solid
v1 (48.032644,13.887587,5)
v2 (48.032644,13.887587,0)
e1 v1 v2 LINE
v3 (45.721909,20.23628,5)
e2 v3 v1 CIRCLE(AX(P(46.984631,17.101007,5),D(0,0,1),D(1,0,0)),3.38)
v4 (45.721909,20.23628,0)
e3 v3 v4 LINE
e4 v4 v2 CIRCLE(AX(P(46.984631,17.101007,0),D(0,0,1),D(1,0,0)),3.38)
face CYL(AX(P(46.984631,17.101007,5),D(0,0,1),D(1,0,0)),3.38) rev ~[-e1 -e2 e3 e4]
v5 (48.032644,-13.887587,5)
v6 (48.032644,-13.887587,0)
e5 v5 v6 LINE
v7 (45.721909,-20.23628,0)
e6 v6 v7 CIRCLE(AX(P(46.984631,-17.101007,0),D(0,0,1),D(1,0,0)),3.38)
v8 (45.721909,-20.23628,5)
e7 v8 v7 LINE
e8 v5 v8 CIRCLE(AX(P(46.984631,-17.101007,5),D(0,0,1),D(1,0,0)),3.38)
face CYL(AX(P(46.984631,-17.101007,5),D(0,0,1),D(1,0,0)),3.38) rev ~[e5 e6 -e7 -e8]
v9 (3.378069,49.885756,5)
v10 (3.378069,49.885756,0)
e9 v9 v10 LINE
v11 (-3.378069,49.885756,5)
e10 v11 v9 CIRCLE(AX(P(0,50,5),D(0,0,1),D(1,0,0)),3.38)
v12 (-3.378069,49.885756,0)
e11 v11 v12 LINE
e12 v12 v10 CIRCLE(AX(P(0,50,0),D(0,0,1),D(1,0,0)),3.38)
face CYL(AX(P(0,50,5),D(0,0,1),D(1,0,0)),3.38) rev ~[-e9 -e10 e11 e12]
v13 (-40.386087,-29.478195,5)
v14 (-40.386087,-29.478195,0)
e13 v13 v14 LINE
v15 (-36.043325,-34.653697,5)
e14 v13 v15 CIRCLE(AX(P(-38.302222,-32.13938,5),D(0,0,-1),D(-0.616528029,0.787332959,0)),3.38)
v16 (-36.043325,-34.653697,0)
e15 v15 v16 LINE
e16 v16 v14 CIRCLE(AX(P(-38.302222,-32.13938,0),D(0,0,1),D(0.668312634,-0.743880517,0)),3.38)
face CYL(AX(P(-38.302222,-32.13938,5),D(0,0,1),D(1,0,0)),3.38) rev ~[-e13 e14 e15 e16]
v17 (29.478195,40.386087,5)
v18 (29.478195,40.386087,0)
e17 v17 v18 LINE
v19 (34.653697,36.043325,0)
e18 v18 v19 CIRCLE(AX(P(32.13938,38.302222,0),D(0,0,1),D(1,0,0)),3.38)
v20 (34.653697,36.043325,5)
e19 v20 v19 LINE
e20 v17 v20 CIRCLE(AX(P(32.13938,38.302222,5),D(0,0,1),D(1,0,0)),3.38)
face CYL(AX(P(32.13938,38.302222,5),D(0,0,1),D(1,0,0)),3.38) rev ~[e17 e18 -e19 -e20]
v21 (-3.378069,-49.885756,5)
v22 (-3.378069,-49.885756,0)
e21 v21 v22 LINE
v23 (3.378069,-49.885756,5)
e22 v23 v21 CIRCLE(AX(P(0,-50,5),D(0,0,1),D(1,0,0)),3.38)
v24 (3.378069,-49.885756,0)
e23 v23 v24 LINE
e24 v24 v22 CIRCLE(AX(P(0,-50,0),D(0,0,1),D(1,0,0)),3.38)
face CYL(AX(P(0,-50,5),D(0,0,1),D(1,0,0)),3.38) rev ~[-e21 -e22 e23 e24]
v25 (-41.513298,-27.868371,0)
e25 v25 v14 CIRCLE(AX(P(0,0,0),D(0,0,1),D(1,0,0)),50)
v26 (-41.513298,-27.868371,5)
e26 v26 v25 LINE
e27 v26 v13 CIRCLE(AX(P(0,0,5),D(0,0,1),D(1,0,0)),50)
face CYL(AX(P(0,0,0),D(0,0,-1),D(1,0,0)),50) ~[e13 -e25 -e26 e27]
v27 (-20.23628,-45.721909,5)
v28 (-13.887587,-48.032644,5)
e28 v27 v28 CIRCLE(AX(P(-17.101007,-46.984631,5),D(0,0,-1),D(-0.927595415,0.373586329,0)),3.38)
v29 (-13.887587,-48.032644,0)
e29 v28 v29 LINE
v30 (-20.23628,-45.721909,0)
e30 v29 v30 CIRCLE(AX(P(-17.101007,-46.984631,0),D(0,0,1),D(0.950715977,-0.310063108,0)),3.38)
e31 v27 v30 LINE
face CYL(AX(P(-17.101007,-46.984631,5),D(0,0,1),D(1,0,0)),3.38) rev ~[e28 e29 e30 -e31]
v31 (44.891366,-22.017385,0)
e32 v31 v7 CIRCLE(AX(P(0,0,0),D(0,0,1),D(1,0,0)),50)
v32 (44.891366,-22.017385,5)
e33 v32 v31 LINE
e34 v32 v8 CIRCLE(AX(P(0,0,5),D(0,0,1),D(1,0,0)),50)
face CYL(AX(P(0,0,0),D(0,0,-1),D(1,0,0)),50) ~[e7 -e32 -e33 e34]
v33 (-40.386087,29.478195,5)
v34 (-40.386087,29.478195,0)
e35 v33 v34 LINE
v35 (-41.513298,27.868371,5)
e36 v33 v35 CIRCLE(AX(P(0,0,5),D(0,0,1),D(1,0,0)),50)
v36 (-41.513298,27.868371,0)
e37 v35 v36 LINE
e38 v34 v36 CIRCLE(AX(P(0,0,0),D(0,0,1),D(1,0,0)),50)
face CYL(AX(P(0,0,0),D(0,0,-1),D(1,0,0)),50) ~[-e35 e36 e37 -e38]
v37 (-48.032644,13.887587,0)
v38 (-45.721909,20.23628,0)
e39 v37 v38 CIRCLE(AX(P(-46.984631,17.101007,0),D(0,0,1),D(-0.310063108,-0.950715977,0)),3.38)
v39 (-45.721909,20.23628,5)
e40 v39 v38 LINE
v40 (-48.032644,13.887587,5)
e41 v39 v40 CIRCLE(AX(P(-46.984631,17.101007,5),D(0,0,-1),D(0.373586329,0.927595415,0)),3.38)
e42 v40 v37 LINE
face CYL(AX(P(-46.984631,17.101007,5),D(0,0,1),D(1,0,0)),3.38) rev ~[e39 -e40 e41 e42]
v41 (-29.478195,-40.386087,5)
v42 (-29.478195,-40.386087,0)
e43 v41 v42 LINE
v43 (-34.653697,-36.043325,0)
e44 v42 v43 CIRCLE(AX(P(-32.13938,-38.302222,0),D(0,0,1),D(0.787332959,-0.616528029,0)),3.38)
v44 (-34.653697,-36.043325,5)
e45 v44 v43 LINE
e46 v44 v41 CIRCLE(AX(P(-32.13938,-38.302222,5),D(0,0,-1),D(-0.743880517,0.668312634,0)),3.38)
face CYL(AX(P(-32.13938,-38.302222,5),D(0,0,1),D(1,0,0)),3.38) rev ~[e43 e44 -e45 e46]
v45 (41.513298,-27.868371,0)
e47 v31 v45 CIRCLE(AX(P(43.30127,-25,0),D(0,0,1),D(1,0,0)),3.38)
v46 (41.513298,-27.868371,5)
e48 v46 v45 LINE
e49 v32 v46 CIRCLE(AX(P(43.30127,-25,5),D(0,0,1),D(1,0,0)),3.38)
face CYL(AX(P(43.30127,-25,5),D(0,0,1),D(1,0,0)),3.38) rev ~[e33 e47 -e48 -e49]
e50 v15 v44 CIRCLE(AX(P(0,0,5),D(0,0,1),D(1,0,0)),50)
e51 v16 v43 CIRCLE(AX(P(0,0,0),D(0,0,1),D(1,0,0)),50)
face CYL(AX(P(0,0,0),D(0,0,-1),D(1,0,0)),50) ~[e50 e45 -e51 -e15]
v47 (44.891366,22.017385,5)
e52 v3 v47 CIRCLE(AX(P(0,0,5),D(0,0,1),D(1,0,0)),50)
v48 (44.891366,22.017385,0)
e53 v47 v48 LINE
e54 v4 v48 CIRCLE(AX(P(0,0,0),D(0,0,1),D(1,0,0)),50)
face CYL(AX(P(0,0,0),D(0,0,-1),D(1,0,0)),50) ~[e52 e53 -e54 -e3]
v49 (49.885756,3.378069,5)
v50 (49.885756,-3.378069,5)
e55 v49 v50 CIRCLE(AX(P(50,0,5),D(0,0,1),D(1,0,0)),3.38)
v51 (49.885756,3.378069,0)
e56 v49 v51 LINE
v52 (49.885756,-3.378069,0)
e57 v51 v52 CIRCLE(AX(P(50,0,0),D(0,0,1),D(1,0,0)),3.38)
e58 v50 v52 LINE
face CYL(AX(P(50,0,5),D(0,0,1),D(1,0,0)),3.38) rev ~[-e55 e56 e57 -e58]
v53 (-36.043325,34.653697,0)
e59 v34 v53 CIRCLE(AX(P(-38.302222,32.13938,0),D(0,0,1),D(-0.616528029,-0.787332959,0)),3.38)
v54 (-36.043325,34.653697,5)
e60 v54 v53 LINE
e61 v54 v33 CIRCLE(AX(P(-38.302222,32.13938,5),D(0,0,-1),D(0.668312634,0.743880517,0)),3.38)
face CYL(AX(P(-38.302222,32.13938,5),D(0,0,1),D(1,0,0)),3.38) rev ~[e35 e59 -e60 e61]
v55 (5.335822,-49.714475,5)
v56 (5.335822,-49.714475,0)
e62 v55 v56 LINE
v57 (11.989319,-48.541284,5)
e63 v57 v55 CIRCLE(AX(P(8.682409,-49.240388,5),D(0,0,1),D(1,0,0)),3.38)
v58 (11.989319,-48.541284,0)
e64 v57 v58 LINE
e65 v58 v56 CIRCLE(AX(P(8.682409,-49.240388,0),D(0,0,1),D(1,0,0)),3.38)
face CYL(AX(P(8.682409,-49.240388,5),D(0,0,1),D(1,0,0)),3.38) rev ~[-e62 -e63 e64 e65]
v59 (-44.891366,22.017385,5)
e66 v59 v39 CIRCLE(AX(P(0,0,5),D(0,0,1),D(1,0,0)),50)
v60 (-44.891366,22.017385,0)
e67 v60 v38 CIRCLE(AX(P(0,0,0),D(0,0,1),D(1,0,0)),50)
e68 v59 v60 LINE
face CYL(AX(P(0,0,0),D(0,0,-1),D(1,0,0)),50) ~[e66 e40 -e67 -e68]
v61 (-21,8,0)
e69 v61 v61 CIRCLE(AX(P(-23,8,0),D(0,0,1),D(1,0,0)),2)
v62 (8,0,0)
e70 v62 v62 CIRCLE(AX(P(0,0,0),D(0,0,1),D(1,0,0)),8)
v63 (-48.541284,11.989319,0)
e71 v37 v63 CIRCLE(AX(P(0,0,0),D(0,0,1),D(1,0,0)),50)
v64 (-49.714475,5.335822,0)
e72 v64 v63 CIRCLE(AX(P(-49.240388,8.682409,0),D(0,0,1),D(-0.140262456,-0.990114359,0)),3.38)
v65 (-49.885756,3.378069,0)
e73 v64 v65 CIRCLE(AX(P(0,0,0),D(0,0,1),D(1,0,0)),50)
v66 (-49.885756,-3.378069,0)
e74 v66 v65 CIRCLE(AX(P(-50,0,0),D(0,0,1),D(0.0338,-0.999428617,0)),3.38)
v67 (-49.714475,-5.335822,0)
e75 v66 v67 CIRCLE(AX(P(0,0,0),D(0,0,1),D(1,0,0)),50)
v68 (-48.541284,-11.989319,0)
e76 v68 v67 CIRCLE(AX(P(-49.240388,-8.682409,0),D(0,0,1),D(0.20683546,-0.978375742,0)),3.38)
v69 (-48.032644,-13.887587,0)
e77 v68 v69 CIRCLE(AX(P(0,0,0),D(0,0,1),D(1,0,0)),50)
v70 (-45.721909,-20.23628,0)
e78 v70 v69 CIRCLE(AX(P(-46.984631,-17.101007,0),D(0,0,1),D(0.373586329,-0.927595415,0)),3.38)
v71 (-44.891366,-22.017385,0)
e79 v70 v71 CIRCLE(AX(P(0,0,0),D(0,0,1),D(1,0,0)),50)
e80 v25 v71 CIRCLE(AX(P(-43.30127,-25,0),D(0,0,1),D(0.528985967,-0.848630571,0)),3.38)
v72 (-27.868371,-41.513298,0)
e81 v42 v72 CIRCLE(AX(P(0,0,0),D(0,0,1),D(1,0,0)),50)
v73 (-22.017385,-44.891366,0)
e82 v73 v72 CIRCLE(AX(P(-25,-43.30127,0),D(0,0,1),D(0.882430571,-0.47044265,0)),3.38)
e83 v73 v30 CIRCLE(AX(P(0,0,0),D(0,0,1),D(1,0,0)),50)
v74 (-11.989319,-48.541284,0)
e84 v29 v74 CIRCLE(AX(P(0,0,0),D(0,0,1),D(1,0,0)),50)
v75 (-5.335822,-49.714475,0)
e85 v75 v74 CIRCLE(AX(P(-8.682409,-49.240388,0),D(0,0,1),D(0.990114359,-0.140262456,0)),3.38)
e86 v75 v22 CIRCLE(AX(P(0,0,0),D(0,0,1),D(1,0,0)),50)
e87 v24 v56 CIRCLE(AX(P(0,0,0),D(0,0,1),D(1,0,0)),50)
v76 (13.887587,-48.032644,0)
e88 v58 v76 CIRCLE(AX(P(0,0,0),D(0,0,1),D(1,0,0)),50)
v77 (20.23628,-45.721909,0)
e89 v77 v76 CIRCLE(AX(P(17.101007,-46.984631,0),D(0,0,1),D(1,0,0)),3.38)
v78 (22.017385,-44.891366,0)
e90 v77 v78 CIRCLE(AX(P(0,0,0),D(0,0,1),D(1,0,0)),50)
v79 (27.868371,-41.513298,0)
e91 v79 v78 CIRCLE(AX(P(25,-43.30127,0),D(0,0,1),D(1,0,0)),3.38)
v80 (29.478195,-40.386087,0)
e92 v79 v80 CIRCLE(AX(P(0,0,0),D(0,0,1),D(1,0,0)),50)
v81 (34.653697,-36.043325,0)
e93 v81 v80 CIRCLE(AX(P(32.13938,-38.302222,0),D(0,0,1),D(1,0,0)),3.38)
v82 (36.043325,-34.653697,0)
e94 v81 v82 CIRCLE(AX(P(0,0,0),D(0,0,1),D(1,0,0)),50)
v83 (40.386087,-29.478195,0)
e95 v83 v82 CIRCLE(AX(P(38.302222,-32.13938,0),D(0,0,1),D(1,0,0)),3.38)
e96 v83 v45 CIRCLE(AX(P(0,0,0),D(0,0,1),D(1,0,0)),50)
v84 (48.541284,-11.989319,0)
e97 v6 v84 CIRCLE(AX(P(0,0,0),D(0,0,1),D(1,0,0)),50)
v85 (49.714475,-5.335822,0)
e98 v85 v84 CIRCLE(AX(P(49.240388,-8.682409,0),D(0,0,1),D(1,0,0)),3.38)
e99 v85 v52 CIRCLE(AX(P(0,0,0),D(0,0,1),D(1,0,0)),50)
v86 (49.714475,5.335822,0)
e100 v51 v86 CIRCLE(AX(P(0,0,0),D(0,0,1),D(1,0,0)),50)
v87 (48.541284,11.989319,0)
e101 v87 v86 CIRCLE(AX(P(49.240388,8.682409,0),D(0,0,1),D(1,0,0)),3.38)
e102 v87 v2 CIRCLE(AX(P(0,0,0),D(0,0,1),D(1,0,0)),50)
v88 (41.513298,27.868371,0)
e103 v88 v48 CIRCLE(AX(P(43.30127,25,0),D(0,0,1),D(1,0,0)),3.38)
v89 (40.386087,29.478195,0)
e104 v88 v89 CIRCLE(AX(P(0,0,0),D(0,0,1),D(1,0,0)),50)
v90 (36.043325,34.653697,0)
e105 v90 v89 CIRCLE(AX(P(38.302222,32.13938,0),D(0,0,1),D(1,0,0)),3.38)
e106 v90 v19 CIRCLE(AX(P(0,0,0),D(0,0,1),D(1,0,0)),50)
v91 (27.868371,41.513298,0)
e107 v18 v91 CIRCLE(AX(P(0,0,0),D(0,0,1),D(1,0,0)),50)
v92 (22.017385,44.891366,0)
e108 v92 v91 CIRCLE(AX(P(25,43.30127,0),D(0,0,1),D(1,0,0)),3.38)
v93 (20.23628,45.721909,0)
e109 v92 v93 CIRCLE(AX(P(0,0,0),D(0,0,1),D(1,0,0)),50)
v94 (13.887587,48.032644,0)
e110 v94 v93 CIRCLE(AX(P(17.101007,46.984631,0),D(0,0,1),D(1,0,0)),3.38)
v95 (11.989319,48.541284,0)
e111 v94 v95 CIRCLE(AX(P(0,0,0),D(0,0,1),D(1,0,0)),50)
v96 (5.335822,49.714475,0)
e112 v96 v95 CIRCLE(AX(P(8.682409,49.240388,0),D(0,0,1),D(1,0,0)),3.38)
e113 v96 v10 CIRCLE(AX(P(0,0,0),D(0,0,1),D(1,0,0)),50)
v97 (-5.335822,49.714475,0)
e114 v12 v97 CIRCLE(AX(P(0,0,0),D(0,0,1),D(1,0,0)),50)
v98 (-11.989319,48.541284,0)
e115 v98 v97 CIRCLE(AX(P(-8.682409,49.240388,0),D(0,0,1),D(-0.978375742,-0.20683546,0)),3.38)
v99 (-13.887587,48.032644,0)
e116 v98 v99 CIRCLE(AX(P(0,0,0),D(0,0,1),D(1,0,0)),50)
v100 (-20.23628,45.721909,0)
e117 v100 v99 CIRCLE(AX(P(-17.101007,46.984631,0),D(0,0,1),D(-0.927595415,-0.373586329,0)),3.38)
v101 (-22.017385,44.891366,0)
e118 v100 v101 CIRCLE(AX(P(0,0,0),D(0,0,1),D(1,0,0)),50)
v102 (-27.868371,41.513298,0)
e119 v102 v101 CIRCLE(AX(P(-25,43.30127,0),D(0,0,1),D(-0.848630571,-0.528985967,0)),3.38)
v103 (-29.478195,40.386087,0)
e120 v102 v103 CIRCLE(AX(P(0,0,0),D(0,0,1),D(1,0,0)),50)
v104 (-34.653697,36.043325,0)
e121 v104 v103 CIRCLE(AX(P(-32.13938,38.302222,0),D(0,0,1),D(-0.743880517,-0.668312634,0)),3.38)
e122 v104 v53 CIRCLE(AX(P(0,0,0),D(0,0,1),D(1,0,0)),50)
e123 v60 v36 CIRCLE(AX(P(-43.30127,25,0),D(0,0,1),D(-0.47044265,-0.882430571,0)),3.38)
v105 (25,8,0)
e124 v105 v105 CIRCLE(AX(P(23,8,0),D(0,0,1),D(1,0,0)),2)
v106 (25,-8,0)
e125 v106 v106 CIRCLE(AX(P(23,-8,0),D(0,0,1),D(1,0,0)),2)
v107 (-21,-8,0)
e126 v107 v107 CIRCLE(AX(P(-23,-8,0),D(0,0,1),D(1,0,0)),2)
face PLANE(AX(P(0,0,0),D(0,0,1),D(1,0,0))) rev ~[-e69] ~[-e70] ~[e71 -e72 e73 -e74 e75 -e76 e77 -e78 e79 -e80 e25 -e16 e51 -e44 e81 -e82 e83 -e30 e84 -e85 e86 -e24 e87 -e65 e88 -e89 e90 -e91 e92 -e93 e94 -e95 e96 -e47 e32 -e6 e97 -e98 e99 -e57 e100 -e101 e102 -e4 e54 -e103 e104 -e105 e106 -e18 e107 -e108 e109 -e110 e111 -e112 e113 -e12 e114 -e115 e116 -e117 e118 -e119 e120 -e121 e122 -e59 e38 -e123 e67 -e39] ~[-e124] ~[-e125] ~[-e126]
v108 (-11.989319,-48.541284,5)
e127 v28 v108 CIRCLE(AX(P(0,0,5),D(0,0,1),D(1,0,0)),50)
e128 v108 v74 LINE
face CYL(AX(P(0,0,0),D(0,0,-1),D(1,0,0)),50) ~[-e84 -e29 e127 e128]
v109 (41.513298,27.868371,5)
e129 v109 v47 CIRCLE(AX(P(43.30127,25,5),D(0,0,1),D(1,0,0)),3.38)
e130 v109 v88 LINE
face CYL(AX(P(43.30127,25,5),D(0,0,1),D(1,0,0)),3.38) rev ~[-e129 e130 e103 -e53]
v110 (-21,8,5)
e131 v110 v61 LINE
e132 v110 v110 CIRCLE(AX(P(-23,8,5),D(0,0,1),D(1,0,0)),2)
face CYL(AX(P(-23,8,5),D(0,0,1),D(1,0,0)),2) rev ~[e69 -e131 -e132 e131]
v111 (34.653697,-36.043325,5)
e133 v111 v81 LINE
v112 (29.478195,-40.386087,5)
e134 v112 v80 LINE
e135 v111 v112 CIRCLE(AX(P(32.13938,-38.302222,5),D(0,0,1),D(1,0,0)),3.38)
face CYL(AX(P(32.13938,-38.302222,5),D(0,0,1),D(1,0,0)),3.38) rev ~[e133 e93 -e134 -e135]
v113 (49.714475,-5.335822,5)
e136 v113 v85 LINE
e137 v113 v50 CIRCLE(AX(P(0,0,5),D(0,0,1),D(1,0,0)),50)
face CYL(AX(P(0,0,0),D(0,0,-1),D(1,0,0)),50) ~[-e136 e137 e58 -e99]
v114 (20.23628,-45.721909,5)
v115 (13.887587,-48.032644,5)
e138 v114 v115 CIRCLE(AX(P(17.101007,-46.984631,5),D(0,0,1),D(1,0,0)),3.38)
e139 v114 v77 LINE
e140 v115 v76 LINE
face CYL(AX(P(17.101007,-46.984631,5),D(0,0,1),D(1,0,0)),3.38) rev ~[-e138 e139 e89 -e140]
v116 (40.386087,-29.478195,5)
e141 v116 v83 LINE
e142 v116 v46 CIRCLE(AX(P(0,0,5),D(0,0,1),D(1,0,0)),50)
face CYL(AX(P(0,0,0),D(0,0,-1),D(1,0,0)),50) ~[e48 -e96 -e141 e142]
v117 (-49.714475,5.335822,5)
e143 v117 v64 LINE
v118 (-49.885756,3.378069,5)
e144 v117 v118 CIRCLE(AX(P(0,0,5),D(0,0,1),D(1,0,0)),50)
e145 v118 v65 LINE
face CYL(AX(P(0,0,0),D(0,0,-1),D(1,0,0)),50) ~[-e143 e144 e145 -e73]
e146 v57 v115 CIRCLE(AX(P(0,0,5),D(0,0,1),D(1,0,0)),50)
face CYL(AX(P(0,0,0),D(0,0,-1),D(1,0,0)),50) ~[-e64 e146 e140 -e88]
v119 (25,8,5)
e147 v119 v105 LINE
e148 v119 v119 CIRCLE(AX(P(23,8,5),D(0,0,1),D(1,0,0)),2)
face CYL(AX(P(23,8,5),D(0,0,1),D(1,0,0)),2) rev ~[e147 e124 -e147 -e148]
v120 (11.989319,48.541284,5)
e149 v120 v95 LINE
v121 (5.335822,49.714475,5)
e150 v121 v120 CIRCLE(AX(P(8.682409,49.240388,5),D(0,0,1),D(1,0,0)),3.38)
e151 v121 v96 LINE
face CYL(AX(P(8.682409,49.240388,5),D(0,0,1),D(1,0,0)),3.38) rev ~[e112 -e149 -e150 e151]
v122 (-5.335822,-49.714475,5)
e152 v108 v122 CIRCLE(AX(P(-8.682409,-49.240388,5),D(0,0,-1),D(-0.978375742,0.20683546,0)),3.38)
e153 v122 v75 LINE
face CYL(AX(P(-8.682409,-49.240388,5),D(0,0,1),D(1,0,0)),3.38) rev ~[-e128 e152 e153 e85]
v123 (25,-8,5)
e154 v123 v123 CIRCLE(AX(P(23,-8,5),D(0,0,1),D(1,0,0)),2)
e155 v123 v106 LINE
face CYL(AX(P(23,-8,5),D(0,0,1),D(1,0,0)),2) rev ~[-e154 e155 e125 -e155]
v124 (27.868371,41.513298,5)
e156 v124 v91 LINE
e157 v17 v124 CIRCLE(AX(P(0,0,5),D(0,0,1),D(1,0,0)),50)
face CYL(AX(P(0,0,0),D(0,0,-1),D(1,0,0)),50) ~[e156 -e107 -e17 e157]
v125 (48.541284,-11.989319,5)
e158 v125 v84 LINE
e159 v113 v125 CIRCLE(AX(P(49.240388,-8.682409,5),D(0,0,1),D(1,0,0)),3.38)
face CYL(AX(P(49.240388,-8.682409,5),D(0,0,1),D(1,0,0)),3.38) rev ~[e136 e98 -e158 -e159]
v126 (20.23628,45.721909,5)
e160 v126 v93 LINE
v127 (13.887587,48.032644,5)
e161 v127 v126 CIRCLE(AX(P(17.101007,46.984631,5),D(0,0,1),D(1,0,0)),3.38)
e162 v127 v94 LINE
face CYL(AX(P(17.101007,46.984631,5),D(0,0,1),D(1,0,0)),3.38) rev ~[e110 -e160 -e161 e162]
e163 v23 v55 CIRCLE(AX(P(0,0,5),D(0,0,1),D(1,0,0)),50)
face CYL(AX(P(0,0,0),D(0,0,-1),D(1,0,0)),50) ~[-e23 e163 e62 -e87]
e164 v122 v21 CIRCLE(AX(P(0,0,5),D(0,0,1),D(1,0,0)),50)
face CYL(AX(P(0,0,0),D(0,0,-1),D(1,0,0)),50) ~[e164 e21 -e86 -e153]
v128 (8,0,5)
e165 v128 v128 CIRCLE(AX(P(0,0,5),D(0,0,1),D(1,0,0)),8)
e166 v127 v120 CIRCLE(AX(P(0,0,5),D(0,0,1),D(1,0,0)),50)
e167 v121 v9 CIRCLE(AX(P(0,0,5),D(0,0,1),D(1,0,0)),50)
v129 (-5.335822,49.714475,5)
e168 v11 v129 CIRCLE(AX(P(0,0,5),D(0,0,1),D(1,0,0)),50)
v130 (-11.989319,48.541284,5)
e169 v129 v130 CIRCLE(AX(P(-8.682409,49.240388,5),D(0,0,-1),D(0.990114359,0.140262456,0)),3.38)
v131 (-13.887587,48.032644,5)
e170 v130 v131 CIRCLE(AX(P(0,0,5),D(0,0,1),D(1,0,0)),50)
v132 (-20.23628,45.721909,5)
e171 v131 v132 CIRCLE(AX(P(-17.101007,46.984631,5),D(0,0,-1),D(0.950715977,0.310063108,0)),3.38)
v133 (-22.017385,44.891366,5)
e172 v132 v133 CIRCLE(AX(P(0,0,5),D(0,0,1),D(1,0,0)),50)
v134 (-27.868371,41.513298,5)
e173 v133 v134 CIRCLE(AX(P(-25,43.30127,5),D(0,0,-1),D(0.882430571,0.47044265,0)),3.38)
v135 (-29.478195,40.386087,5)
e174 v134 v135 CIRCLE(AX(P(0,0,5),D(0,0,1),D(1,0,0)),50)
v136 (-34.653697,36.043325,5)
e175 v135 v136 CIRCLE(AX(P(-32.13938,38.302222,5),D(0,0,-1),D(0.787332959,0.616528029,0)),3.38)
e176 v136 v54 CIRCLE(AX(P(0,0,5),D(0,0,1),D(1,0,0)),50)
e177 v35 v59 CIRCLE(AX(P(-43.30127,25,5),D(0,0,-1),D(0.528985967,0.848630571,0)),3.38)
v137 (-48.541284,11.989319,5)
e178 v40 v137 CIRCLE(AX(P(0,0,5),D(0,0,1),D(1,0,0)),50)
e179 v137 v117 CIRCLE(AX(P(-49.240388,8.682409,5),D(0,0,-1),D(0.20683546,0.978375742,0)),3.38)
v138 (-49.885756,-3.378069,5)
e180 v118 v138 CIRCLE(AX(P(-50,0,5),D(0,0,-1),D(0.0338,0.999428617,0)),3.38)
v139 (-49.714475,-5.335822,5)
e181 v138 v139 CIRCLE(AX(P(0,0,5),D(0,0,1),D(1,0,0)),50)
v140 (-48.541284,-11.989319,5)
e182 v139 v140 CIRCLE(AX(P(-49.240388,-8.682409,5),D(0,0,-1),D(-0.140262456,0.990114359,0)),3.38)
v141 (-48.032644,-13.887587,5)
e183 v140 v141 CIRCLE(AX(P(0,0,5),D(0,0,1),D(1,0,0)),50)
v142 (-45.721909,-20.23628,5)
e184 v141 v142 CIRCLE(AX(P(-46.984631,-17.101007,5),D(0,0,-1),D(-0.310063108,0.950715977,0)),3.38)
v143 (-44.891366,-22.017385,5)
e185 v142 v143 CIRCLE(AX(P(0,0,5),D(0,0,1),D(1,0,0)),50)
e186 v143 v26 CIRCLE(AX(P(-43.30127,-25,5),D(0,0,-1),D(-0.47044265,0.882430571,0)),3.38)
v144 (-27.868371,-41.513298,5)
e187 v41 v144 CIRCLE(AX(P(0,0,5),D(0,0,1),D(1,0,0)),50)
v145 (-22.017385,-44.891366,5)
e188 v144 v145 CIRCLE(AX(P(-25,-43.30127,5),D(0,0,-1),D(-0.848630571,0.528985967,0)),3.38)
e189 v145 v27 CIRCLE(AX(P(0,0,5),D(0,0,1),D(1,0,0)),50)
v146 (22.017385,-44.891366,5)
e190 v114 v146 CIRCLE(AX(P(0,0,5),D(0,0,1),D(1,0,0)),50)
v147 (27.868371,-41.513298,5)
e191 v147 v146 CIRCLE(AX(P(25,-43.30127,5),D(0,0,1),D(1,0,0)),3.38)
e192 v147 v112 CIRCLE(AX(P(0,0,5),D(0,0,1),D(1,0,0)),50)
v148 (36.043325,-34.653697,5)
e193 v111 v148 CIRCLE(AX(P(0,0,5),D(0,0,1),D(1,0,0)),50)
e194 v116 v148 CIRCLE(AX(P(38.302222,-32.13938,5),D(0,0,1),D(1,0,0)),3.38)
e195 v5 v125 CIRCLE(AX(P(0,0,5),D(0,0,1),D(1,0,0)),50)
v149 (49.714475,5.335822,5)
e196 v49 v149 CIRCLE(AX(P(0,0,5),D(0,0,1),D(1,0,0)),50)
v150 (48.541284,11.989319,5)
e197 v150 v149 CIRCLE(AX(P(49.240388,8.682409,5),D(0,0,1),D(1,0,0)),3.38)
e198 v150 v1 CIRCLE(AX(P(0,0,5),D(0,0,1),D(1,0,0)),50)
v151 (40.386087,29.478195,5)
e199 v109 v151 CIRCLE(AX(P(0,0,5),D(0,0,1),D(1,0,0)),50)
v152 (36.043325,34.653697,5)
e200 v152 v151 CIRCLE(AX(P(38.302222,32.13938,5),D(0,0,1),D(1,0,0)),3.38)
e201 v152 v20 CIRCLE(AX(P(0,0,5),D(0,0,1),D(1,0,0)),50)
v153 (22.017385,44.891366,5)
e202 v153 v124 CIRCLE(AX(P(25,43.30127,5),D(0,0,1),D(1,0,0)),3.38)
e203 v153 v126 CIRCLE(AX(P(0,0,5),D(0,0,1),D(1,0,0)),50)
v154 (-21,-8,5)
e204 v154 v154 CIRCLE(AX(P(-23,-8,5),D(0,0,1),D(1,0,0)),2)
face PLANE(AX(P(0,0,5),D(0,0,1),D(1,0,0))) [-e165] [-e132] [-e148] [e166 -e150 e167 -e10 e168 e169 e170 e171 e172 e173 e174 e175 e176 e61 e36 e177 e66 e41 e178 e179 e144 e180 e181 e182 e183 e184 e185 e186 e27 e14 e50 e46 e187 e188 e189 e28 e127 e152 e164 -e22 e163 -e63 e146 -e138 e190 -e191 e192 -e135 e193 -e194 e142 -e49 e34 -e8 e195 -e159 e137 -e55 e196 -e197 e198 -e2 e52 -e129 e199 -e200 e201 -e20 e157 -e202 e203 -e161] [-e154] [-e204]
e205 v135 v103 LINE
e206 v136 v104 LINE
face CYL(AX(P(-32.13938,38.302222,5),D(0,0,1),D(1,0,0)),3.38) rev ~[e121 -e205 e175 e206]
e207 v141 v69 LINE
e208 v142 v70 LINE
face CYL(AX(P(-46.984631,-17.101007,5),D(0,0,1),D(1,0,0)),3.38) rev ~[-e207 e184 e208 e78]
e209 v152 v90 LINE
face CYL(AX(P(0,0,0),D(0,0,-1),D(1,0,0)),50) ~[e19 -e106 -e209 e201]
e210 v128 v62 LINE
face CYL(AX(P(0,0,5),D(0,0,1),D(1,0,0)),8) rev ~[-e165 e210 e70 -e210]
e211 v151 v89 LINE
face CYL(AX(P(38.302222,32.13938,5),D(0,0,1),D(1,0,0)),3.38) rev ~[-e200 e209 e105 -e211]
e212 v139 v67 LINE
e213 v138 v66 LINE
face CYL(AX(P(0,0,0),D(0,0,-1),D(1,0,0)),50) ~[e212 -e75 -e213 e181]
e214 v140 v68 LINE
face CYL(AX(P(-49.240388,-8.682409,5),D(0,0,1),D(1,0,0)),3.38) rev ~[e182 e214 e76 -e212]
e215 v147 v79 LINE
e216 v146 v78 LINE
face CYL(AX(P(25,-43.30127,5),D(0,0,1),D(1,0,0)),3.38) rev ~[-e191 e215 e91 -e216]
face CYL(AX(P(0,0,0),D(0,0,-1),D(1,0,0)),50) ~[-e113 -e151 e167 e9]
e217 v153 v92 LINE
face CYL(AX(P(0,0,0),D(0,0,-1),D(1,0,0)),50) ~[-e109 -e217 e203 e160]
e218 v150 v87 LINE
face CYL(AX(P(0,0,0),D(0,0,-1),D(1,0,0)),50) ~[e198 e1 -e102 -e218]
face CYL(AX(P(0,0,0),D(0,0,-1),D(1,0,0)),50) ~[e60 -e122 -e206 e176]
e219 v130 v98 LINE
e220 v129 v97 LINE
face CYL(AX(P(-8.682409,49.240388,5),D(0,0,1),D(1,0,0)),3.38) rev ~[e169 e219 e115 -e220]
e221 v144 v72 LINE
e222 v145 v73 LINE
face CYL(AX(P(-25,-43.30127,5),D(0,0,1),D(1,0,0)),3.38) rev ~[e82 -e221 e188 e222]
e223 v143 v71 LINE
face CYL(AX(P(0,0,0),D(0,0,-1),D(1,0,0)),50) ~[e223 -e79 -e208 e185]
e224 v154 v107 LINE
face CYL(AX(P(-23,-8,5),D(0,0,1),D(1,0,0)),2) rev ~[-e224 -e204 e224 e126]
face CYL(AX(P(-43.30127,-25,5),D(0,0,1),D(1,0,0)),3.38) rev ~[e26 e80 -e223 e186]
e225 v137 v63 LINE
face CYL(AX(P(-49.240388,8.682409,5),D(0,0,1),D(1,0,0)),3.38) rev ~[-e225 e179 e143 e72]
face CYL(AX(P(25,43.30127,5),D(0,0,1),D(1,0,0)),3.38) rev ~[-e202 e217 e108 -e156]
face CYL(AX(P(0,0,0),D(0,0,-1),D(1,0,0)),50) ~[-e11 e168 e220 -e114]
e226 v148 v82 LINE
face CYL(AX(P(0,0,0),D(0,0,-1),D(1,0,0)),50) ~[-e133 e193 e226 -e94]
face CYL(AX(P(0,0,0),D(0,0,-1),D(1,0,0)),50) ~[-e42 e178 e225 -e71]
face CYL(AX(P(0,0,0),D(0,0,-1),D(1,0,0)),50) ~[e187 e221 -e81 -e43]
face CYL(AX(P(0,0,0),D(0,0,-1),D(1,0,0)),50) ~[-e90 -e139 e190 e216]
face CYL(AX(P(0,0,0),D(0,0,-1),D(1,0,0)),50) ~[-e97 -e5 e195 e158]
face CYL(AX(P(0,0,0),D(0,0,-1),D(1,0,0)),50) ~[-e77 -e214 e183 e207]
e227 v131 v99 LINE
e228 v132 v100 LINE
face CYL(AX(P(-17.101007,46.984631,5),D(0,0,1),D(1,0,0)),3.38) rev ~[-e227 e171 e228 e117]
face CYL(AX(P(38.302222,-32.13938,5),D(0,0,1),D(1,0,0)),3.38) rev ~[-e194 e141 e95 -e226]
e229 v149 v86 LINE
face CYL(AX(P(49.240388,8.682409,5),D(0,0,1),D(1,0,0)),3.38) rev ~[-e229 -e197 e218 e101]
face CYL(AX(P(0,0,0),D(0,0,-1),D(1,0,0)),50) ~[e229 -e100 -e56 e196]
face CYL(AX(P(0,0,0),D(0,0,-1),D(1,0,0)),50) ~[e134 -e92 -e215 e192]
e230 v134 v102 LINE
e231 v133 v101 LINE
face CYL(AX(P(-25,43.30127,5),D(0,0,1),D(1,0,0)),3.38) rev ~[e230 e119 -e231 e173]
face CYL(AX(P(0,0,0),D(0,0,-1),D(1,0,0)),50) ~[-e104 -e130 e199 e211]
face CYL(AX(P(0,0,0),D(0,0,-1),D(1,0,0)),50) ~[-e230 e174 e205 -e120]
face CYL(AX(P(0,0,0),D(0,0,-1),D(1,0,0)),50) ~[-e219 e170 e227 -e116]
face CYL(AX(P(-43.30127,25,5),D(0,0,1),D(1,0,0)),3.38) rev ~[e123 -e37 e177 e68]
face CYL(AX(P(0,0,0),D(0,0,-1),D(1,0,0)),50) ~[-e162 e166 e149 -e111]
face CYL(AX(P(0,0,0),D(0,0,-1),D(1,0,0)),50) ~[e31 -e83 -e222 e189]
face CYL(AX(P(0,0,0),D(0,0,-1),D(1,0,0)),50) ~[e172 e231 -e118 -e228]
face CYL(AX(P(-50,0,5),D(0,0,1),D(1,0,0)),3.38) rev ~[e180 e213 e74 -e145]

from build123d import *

# Parameters (mm, degrees)
SKETCH_1_R          = 50
EXTRUDE_1_DEPTH     = 5
SKETCH_4_R          = 8
CUT_EXTRUDE_3_DEPTH = 10
SKETCH_5_R          = 2
CUT_EXTRUDE_4_DEPTH = 10
SKETCH_6_R          = 3.38
CUT_EXTRUDE_5_DEPTH = 71.887234394


with BuildPart() as part:
    # 스케치1 → 보스-돌출1 (new body)
    with BuildSketch(Plane.XY):
        Circle(SKETCH_1_R)
    extrude(amount=EXTRUDE_1_DEPTH)

    # 스케치4 → 컷-돌출3 (cut)
    with BuildSketch(Plane.XY.offset(5)):
        Circle(SKETCH_4_R)
    extrude(amount=-CUT_EXTRUDE_3_DEPTH, mode=Mode.SUBTRACT)

    # 스케치5 → 컷-돌출4 (cut)
    with BuildSketch(Plane.XY.offset(5)):
        with Locations((-23, 8)):
            Circle(SKETCH_5_R)
        with Locations((23, 8)):
            Circle(SKETCH_5_R)
        with Locations((23, -8)):
            Circle(SKETCH_5_R)
        with Locations((-23, -8)):
            Circle(SKETCH_5_R)
    extrude(amount=-CUT_EXTRUDE_4_DEPTH, mode=Mode.SUBTRACT)

    # 스케치6 → 컷-돌출5 (cut, through all)
    with BuildSketch(Plane.XY.offset(5)):
        with Locations((0, 50)):
            Circle(SKETCH_6_R)
        with Locations((8.682408883, 49.240387651)):
            Circle(SKETCH_6_R)
        with Locations((17.101007166, 46.984631039)):
            Circle(SKETCH_6_R)
        with Locations((25, 43.301270189)):
            Circle(SKETCH_6_R)
        with Locations((32.139380484, 38.302222156)):
            Circle(SKETCH_6_R)
        with Locations((38.302222156, 32.139380484)):
            Circle(SKETCH_6_R)
        with Locations((43.301270189, 25)):
            Circle(SKETCH_6_R)
        with Locations((46.984631039, 17.101007166)):
            Circle(SKETCH_6_R)
        with Locations((49.240387651, 8.682408883)):
            Circle(SKETCH_6_R)
        with Locations((50, 0)):
            Circle(SKETCH_6_R)
        with Locations((49.240387651, -8.682408883)):
            Circle(SKETCH_6_R)
        with Locations((46.984631039, -17.101007166)):
            Circle(SKETCH_6_R)
        with Locations((43.301270189, -25)):
            Circle(SKETCH_6_R)
        with Locations((38.302222156, -32.139380484)):
            Circle(SKETCH_6_R)
        with Locations((32.139380484, -38.302222156)):
            Circle(SKETCH_6_R)
        with Locations((25, -43.301270189)):
            Circle(SKETCH_6_R)
        with Locations((17.101007166, -46.984631039)):
            Circle(SKETCH_6_R)
        with Locations((8.682408883, -49.240387651)):
            Circle(SKETCH_6_R)
        with Locations((0, -50)):
            Circle(SKETCH_6_R)
        with Locations((-8.682408883, -49.240387651)):
            Circle(SKETCH_6_R)
        with Locations((-17.101007166, -46.984631039)):
            Circle(SKETCH_6_R)
        with Locations((-25, -43.301270189)):
            Circle(SKETCH_6_R)
        with Locations((-32.139380484, -38.302222156)):
            Circle(SKETCH_6_R)
        with Locations((-38.302222156, -32.139380484)):
            Circle(SKETCH_6_R)
        with Locations((-43.301270189, -25)):
            Circle(SKETCH_6_R)
        with Locations((-46.984631039, -17.101007166)):
            Circle(SKETCH_6_R)
        with Locations((-49.240387651, -8.682408883)):
            Circle(SKETCH_6_R)
        with Locations((-50, 0)):
            Circle(SKETCH_6_R)
        with Locations((-49.240387651, 8.682408883)):
            Circle(SKETCH_6_R)
        with Locations((-46.984631039, 17.101007166)):
            Circle(SKETCH_6_R)
        with Locations((-43.301270189, 25)):
            Circle(SKETCH_6_R)
        with Locations((-38.302222156, 32.139380484)):
            Circle(SKETCH_6_R)
        with Locations((-32.139380484, 38.302222156)):
            Circle(SKETCH_6_R)
        with Locations((-25, 43.301270189)):
            Circle(SKETCH_6_R)
        with Locations((-17.101007166, 46.984631039)):
            Circle(SKETCH_6_R)
        with Locations((-8.682408883, 49.240387651)):
            Circle(SKETCH_6_R)
    extrude(amount=-CUT_EXTRUDE_5_DEPTH, mode=Mode.SUBTRACT)


solid = part.part
